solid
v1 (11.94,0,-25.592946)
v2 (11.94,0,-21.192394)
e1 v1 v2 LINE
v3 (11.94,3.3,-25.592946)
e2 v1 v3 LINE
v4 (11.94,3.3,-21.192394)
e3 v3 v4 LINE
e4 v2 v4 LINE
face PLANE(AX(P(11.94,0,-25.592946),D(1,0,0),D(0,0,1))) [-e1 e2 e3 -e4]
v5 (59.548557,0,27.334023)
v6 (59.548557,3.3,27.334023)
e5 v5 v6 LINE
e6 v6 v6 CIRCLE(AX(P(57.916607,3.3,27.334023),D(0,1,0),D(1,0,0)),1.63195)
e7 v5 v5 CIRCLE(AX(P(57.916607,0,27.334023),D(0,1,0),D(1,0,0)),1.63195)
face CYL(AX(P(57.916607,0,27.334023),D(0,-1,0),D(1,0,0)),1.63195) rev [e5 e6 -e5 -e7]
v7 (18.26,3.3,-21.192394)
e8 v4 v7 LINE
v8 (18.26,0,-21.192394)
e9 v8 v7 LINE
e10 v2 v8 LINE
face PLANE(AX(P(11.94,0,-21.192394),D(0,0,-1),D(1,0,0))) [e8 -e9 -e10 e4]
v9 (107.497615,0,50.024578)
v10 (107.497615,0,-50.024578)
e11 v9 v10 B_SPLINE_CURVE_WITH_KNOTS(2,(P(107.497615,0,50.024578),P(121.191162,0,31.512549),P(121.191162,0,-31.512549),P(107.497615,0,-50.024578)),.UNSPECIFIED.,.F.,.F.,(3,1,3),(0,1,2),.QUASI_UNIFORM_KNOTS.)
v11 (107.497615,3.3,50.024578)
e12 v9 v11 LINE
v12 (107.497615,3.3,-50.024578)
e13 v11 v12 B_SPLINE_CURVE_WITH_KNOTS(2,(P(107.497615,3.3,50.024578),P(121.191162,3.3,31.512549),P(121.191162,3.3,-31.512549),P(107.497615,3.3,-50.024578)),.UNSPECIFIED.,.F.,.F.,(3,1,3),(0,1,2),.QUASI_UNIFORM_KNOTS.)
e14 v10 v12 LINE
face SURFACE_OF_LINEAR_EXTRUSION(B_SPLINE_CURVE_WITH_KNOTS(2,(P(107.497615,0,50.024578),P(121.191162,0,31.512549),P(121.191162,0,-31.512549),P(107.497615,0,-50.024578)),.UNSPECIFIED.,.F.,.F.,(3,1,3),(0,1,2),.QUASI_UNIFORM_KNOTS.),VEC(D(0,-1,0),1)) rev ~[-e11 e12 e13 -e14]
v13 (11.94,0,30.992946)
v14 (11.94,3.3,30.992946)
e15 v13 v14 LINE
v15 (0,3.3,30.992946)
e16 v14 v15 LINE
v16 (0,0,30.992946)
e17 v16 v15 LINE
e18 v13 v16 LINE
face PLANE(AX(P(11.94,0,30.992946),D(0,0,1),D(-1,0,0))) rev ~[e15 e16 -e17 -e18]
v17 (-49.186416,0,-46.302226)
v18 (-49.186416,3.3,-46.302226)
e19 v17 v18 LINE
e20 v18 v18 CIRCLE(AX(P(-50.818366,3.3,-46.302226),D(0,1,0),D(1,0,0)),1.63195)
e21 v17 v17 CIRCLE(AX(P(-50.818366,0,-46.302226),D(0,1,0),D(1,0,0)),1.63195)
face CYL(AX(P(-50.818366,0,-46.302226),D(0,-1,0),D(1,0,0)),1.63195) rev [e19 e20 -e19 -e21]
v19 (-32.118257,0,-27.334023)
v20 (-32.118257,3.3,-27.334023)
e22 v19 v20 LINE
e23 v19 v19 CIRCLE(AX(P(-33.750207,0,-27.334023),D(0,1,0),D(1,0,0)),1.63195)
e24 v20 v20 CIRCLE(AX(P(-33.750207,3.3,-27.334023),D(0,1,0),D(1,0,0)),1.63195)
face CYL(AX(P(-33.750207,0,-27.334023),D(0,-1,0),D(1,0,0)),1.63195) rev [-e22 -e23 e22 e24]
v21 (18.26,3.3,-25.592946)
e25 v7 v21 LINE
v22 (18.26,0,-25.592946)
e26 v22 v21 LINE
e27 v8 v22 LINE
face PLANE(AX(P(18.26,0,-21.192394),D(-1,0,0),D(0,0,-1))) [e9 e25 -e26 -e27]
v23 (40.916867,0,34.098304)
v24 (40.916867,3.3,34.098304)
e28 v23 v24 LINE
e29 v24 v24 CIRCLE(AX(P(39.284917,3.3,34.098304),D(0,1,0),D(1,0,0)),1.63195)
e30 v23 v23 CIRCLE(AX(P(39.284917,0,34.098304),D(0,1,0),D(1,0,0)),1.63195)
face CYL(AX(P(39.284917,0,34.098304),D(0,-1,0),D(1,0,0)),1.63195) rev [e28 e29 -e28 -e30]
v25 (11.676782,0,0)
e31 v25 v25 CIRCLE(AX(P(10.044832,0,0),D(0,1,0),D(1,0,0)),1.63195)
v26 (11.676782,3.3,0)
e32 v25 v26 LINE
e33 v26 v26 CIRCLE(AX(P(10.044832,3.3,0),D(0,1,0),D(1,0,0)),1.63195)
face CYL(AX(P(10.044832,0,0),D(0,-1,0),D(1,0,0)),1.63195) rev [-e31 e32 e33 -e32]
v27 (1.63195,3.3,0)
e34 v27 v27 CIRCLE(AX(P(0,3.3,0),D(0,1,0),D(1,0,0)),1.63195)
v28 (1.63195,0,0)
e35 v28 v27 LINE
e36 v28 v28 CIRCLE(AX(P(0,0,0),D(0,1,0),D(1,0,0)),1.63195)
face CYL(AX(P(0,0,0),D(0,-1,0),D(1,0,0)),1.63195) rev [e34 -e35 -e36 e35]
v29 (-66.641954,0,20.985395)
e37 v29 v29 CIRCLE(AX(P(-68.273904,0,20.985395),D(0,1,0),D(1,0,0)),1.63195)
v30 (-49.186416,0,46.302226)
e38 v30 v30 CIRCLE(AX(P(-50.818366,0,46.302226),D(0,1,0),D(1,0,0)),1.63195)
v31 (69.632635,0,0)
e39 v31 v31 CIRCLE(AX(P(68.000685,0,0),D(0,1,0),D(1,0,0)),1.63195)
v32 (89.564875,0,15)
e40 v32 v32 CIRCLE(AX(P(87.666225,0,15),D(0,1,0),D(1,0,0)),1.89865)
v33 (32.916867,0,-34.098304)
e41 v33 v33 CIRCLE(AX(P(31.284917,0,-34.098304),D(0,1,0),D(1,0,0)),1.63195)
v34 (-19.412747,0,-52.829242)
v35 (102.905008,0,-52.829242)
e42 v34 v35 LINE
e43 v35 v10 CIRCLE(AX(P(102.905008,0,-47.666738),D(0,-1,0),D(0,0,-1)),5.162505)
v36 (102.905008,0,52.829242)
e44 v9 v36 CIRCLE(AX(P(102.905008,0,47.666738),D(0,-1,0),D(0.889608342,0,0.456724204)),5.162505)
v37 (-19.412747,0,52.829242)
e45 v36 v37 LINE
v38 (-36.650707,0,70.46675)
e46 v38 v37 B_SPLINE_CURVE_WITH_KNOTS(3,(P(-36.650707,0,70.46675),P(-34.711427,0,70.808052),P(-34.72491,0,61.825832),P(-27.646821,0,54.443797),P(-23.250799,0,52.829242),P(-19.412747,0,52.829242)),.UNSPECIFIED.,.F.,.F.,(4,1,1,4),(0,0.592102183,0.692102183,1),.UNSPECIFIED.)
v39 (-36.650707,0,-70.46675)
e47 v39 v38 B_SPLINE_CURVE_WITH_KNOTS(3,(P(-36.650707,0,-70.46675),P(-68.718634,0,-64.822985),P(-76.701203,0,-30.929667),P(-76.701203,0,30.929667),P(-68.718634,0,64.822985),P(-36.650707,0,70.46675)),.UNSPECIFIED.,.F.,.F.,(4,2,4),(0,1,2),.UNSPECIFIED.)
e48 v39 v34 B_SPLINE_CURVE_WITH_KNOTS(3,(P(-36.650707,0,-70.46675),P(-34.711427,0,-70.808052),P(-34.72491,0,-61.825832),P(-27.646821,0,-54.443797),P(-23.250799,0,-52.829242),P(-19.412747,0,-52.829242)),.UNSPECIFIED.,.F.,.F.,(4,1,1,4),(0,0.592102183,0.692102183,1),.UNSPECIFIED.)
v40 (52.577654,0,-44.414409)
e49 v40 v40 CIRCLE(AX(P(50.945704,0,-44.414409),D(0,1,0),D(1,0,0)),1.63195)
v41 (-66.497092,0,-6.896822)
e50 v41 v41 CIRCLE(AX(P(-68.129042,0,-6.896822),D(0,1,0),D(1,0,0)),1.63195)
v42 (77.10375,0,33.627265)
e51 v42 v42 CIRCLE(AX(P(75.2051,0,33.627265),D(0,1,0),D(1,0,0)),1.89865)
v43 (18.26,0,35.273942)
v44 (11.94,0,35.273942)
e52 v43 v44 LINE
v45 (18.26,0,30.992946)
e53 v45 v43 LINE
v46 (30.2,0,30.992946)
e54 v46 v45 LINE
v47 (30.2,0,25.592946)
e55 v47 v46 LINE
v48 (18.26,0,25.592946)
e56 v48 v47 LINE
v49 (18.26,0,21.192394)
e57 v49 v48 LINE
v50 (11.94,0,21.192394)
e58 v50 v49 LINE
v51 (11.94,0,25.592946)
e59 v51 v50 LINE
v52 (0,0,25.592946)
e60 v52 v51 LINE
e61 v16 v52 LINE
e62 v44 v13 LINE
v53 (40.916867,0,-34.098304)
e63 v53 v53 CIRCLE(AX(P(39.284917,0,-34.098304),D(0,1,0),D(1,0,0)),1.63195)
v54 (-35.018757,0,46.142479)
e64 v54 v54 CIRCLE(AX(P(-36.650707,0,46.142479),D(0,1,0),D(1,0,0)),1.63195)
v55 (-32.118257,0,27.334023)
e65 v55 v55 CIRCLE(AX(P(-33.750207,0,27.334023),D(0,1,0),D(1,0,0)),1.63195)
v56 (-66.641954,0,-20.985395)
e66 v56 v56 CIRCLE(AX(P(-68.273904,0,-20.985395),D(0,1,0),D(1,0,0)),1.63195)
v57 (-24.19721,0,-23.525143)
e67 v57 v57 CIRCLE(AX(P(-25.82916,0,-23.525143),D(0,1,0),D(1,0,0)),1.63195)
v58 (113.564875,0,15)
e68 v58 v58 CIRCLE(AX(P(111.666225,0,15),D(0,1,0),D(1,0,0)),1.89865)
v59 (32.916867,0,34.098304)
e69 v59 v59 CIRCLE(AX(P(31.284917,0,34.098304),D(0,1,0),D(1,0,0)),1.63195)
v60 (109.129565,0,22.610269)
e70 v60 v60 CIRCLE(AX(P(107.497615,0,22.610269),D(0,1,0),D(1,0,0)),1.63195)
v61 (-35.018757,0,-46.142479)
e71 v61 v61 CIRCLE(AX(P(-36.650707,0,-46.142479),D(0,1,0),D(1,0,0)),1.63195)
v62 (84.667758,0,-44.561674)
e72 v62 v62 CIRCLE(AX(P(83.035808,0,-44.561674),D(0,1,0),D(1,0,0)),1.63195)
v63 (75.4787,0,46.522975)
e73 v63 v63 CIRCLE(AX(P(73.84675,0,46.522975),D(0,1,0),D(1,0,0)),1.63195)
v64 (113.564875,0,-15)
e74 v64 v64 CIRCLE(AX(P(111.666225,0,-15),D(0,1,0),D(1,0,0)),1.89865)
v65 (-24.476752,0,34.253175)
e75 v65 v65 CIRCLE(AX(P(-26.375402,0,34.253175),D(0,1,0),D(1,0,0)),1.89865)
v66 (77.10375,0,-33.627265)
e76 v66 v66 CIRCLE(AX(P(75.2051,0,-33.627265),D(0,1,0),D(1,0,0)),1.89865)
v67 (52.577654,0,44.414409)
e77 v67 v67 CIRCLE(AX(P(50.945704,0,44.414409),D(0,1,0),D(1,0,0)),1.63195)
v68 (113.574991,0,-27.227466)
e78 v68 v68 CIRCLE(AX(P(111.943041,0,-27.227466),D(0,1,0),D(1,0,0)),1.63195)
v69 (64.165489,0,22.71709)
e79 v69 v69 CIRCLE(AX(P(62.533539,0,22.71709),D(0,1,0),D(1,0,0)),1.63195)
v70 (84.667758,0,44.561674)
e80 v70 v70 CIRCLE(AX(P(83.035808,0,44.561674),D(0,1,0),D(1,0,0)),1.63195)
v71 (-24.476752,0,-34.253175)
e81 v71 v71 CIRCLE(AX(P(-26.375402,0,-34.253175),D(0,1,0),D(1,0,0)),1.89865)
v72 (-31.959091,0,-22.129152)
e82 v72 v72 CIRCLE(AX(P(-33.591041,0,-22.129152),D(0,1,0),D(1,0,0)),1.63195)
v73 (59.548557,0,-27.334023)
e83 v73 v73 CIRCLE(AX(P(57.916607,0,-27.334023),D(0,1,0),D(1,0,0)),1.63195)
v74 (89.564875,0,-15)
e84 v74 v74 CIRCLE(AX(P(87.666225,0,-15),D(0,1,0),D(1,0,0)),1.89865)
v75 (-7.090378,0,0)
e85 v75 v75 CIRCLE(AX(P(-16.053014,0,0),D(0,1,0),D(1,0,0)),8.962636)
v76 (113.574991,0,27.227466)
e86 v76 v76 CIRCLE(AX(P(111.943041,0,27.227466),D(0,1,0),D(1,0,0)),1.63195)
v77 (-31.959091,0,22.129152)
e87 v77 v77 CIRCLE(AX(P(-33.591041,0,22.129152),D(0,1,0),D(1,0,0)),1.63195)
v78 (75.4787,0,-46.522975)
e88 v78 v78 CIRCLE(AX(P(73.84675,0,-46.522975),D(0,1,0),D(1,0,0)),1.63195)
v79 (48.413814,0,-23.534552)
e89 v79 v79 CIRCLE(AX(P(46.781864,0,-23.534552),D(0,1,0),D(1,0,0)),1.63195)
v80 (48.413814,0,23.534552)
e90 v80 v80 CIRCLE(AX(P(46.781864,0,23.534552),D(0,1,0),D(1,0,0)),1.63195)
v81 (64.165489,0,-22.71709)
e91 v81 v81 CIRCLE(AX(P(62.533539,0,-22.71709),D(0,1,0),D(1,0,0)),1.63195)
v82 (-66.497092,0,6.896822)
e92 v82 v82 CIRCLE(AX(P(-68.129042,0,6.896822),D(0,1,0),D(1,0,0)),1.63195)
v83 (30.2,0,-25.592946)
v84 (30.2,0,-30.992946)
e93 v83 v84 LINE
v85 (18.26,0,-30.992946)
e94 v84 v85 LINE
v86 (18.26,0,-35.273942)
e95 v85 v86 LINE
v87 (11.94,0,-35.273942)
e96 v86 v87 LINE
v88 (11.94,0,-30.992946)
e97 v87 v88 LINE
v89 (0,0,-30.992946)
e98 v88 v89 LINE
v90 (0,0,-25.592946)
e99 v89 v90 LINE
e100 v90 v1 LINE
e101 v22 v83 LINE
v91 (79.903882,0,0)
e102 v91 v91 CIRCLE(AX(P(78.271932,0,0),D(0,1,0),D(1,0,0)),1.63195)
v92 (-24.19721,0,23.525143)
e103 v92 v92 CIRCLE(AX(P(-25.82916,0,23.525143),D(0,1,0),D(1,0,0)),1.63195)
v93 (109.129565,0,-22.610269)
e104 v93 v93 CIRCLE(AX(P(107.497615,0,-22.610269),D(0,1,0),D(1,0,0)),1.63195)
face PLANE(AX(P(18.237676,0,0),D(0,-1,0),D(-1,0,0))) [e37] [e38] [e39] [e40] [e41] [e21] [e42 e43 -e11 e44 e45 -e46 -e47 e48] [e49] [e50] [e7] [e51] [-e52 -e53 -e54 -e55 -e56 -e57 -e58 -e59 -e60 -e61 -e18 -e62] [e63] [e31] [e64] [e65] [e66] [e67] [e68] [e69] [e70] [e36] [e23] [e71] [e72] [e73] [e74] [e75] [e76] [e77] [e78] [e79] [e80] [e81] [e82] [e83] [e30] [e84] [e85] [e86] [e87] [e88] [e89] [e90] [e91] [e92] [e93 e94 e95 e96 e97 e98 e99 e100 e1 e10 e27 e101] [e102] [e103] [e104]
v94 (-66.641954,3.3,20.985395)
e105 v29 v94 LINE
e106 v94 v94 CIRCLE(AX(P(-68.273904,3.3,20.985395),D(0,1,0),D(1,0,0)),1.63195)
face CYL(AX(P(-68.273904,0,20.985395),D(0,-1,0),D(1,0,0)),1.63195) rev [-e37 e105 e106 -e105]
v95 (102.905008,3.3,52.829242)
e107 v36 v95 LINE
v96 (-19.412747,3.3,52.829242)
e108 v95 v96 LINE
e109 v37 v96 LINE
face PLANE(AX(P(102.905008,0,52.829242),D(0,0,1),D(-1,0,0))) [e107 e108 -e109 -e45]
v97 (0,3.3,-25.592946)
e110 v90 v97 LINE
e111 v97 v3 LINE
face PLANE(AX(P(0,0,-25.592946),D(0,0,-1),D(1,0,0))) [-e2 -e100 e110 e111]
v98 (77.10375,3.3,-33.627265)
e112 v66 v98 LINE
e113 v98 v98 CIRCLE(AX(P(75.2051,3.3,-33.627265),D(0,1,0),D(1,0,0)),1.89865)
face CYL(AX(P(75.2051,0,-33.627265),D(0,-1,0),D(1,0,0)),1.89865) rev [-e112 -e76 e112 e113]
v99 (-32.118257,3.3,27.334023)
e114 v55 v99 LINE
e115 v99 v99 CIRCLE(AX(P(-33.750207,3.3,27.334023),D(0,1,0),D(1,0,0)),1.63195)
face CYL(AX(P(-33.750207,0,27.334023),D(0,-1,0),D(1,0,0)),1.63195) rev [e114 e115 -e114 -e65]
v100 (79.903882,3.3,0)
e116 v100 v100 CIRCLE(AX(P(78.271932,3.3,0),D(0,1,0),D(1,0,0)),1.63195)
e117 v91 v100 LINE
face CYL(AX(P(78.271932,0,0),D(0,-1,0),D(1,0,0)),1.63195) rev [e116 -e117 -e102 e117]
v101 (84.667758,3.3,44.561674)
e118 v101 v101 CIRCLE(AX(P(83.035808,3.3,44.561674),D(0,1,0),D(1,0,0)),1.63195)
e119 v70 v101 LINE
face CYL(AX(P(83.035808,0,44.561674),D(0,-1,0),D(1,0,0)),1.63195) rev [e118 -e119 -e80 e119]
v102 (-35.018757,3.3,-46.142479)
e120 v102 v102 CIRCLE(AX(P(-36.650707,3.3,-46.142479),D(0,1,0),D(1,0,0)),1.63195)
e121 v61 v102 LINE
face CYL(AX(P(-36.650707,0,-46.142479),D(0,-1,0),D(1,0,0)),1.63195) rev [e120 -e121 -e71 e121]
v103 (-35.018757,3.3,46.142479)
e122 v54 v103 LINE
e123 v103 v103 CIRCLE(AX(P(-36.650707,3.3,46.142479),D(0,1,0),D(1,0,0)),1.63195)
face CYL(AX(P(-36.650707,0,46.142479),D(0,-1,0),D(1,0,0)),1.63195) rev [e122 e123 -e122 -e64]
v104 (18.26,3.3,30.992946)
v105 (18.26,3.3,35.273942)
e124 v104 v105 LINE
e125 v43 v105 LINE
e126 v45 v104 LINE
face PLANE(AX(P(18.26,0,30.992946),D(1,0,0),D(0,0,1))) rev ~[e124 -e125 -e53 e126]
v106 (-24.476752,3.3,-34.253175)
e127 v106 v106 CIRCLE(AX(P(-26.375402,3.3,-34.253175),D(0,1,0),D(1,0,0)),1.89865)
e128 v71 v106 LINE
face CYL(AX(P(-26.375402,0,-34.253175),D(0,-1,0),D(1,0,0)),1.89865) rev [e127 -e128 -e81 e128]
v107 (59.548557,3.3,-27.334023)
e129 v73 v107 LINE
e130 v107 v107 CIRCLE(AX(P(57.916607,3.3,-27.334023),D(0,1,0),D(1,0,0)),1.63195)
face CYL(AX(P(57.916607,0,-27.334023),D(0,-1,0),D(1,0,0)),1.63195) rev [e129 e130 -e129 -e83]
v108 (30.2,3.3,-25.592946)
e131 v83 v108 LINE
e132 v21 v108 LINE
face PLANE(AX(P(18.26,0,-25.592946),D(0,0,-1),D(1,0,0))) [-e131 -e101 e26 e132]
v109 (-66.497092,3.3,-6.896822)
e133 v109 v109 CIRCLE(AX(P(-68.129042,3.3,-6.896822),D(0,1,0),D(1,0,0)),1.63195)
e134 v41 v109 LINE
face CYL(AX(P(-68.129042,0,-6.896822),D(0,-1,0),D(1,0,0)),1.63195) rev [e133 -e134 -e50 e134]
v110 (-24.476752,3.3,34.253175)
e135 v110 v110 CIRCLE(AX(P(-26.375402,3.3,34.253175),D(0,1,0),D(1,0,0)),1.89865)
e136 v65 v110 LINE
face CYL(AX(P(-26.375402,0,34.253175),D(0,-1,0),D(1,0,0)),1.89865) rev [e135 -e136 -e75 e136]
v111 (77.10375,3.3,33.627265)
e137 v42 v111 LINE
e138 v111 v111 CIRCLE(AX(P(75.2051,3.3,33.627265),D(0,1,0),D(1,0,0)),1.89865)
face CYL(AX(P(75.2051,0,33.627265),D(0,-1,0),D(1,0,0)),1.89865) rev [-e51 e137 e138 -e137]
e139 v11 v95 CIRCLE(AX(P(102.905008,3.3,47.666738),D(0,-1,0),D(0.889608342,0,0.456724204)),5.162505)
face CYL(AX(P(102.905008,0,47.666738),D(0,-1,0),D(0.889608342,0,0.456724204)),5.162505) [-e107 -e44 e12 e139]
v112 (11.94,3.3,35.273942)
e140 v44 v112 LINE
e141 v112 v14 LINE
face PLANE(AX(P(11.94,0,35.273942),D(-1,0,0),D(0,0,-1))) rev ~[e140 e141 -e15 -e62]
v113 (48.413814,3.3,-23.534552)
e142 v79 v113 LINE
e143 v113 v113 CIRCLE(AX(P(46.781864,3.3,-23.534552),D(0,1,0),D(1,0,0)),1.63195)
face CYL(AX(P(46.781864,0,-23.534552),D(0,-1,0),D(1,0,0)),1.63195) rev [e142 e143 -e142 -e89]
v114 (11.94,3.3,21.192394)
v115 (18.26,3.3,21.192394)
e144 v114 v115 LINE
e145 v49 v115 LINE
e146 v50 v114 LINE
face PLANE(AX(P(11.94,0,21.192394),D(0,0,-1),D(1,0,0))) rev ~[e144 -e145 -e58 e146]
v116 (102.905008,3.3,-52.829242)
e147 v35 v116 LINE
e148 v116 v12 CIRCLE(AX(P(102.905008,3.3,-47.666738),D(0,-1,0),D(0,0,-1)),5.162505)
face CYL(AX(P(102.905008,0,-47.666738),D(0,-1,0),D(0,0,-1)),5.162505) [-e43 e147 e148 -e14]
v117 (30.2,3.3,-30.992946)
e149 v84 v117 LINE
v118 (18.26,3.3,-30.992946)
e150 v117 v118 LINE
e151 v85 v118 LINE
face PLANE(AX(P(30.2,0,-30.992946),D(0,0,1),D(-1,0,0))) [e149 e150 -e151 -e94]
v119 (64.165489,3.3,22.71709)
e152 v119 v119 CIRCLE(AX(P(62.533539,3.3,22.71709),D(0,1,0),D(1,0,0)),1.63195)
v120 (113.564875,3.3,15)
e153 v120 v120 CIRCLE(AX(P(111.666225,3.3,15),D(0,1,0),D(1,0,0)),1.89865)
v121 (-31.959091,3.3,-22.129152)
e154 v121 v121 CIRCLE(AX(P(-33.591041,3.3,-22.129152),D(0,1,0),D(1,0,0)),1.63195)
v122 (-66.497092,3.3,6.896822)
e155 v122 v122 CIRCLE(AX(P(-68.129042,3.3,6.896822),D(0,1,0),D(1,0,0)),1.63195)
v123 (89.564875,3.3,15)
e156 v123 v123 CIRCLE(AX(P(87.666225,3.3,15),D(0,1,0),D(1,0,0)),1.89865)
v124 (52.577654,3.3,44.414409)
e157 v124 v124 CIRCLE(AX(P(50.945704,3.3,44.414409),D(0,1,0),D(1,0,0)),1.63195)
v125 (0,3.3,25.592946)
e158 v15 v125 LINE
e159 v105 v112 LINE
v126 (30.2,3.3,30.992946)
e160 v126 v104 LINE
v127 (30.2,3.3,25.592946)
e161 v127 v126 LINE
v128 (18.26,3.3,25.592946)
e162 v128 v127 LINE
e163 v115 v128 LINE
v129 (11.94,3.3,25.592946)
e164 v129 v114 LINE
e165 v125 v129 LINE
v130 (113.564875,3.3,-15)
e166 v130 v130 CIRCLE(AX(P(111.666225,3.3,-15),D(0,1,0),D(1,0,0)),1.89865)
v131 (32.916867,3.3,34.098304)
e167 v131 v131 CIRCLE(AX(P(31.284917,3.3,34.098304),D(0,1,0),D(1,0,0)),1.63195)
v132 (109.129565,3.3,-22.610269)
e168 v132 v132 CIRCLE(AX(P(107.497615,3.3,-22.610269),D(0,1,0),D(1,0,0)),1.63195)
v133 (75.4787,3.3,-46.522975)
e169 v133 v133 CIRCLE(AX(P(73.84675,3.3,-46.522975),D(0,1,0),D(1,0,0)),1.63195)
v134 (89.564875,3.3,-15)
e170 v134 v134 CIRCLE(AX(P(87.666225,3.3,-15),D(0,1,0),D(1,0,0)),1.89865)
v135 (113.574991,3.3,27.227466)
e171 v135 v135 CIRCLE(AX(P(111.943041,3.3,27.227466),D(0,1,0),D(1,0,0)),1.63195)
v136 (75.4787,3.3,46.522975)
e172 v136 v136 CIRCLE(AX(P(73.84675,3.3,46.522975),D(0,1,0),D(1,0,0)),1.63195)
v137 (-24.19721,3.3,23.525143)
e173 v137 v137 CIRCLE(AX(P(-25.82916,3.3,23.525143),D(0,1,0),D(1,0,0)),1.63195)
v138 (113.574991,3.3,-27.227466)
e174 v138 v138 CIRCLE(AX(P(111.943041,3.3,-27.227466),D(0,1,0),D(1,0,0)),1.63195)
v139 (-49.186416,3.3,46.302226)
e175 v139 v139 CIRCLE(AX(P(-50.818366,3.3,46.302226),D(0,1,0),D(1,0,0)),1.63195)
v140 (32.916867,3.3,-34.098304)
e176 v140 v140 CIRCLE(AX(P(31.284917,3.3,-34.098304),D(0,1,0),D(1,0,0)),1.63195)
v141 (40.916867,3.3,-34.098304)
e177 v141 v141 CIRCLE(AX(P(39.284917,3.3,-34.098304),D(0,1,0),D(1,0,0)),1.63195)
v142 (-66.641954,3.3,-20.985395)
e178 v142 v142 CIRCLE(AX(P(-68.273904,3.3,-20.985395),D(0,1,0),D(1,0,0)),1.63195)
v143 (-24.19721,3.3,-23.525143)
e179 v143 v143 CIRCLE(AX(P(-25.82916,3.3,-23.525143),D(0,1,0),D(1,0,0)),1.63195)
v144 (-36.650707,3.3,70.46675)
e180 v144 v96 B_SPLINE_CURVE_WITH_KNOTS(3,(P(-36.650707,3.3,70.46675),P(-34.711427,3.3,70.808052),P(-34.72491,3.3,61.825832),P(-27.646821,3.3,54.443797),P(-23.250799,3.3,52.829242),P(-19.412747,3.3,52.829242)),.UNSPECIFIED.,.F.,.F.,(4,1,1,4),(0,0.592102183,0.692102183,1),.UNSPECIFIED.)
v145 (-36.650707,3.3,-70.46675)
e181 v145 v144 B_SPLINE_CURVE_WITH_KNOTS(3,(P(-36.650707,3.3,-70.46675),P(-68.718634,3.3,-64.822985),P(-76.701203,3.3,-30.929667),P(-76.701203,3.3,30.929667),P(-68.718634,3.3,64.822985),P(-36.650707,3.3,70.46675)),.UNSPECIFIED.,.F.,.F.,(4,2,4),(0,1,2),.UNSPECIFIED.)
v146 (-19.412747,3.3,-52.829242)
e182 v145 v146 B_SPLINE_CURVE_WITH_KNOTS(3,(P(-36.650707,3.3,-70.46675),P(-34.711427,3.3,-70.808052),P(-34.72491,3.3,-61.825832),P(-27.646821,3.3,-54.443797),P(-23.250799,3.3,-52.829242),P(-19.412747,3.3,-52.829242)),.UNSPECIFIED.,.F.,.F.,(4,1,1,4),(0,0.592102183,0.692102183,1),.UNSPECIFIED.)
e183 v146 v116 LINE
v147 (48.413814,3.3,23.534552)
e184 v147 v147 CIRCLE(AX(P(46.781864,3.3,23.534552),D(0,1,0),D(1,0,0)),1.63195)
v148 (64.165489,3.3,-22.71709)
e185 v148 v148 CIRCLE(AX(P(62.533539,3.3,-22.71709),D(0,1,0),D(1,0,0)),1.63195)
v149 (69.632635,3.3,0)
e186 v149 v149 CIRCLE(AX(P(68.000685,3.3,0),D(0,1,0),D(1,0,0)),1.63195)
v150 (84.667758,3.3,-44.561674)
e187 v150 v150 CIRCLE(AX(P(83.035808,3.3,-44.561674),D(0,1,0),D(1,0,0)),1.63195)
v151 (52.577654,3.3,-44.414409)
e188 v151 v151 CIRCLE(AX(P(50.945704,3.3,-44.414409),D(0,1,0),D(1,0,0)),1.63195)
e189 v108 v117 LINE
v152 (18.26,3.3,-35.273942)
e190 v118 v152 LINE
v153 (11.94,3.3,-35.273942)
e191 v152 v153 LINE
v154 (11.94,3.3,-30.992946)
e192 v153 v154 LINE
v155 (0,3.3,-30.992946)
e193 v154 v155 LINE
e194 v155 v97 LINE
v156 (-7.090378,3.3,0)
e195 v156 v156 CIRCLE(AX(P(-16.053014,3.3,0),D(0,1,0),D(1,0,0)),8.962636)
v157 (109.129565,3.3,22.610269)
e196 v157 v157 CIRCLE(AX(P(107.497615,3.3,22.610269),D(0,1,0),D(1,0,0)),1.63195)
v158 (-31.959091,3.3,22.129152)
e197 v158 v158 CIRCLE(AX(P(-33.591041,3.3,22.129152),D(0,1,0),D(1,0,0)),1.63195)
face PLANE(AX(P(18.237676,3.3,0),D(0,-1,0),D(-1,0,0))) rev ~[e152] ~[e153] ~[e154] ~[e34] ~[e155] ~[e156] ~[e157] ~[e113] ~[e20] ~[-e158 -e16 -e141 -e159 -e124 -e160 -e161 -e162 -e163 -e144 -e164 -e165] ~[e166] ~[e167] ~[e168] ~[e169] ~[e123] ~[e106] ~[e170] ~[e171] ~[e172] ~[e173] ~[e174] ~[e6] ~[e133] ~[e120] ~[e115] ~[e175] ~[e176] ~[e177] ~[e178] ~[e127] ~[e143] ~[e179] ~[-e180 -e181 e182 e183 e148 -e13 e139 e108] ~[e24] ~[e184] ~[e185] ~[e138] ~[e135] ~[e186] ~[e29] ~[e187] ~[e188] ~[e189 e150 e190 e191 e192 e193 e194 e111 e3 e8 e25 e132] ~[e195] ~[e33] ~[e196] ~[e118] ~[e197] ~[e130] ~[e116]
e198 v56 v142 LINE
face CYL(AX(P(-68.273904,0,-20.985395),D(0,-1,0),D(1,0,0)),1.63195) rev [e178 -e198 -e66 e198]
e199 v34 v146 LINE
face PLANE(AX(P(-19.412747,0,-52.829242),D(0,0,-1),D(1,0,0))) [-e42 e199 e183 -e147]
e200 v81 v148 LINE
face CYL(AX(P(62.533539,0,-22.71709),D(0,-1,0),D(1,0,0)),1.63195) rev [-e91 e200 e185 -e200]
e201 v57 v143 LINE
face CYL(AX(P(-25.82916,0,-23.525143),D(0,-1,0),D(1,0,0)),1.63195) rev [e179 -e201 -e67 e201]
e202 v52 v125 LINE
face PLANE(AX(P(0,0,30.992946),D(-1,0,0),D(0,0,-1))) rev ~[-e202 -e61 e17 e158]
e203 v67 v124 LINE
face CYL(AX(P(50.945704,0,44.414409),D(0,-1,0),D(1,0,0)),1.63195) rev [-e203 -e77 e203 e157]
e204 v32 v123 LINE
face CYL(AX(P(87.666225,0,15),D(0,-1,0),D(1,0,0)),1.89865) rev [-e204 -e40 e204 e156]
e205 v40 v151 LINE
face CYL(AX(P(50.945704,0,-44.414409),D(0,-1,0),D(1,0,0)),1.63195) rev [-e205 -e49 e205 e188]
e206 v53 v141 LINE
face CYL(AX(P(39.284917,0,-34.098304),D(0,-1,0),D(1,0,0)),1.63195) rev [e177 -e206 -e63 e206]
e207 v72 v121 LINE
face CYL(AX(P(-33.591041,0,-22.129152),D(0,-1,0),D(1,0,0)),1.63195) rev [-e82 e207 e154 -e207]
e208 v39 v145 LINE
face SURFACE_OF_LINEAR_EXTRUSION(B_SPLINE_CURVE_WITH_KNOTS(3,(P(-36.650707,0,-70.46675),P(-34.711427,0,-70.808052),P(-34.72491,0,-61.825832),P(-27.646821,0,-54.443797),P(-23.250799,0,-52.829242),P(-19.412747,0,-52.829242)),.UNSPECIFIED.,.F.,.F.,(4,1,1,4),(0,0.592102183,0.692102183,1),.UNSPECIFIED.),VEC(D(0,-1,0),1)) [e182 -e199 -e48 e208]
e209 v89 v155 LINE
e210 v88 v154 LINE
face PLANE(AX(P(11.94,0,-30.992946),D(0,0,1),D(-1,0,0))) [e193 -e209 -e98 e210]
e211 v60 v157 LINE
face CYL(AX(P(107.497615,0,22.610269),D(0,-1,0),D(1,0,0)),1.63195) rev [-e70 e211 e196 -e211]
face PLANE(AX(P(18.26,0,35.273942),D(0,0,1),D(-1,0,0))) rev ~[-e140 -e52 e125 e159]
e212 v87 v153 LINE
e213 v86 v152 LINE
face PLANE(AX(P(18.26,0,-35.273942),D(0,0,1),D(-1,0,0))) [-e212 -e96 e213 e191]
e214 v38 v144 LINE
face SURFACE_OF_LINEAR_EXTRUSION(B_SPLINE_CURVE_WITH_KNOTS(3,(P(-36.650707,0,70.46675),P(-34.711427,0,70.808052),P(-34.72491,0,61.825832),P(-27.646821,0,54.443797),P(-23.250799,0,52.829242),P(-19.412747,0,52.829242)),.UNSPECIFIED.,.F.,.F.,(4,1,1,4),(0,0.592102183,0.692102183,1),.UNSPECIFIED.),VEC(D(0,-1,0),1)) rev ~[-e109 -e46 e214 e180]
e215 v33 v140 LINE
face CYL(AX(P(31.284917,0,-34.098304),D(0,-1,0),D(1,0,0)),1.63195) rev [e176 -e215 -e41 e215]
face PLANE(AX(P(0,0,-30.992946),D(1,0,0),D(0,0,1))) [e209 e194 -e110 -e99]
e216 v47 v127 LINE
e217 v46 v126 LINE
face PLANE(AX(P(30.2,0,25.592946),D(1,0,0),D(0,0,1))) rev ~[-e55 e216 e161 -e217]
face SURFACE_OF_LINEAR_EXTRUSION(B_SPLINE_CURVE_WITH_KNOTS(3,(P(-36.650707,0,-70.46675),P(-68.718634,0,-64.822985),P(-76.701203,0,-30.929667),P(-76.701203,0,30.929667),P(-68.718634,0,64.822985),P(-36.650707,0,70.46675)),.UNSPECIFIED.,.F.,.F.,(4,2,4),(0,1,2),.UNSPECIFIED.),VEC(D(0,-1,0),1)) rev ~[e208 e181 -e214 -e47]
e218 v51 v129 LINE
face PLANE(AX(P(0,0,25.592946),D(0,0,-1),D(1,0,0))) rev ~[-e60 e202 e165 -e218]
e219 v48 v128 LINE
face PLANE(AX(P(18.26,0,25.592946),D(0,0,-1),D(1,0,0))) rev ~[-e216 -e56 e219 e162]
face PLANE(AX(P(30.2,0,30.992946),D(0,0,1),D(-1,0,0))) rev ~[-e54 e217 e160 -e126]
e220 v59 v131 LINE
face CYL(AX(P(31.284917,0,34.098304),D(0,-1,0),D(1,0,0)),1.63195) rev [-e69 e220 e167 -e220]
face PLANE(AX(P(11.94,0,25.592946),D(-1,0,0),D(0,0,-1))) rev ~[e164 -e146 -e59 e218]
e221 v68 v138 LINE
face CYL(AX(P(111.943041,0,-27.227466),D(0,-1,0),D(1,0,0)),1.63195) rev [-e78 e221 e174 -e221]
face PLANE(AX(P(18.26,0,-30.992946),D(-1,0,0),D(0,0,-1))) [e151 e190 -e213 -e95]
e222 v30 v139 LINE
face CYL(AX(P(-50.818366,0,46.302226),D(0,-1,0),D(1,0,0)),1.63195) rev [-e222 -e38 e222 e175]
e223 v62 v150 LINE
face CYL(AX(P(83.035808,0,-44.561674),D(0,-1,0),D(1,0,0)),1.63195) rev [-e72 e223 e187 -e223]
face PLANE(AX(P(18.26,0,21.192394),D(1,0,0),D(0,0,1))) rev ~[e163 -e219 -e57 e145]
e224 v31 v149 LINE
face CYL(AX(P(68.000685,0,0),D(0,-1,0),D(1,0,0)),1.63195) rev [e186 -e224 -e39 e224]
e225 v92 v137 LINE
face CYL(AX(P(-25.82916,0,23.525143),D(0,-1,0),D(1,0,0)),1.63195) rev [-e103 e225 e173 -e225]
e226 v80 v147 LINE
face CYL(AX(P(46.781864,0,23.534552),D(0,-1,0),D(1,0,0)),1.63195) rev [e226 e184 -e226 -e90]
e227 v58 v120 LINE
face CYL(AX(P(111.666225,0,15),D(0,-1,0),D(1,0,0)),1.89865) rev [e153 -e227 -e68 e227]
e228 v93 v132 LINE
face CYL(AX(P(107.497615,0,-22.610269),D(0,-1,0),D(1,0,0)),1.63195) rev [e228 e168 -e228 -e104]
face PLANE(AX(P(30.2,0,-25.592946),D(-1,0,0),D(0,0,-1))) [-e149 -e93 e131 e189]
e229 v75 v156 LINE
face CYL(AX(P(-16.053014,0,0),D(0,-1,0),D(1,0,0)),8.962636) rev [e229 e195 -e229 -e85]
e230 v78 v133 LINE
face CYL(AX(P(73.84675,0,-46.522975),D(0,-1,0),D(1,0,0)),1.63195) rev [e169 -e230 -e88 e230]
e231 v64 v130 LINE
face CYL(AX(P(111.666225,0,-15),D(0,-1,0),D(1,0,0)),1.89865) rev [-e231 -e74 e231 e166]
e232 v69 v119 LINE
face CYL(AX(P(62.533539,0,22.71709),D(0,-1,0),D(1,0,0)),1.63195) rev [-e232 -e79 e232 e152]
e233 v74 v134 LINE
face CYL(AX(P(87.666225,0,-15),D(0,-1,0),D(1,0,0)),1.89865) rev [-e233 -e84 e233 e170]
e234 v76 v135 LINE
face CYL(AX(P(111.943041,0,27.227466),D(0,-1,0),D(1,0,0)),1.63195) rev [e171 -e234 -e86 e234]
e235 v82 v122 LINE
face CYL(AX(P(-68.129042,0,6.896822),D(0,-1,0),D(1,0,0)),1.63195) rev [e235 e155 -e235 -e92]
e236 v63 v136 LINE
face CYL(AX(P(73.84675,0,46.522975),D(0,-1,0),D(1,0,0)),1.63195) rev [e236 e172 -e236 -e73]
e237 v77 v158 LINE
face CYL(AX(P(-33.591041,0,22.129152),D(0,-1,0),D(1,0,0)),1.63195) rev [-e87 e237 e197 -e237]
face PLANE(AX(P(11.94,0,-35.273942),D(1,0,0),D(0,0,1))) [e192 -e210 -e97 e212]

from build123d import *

# Parameters (mm, degrees)
SKETCH3_R           = 1.63195
SKETCH3_R_2         = 1.89865
SKETCH3_R_3         = 8.962636394
BOSS_EXTRUDE1_DEPTH = 3.3


with BuildPart() as part:
    # Sketch3 → Boss-Extrude1 (new body)
    with BuildSketch(Plane(origin=(0, 0, 0), x_dir=(1, 0, 0), z_dir=(0, 1, 0))):
        with BuildLine():
            Line((-19.412747253, 52.829242203), (102.905008148, 52.829242203))
            ThreePointArc((102.905008148, 52.829242203), (105.595648402, 52.072632384), (107.497615337, 50.024578386))
            add(Edge.make_bspline(
                [(107.497615337, 50.024578386), (121.191162078, 31.512548829), (121.191162078, 0)],
                knots=[0, 0, 0, 1, 1, 1], degree=2))
            add(Edge.make_bspline(
                [(107.497615337, -50.024578386), (121.191162078, -31.512548829), (121.191162078, 0)],
                knots=[0, 0, 0, 1, 1, 1], degree=2))
            ThreePointArc((107.497615337, -50.024578386), (105.595648402, -52.072632384), (102.905008148, -52.829242203))
            Line((102.905008148, -52.829242203), (-19.412747253, -52.829242203))
            add(Edge.make_bspline(
                [(-36.650707215, -70.466749861), (-34.711426836, -70.808051725), (-34.724909533, -61.825831762), (-27.646820994, -54.443797364), (-23.250799114, -52.829242203), (-19.412747253, -52.829242203)],
                knots=[0, 0, 0, 0, 0.592102183, 0.692102183, 1, 1, 1, 1], degree=3))
            add(Edge.make_bspline(
                [(-76.701202739, 0), (-76.701202739, -30.929666745), (-68.718634037, -64.822984621), (-36.650707215, -70.466749861)],
                knots=[0, 0, 0, 0, 1, 1, 1, 1], degree=3))
            add(Edge.make_bspline(
                [(-76.701202739, 0), (-76.701202739, 30.929666745), (-68.718634037, 64.822984621), (-36.650707215, 70.466749861)],
                knots=[0, 0, 0, 0, 1, 1, 1, 1], degree=3))
            add(Edge.make_bspline(
                [(-36.650707215, 70.466749861), (-34.711426836, 70.808051725), (-34.724909533, 61.825831762), (-27.646820994, 54.443797364), (-23.250799114, 52.829242203), (-19.412747253, 52.829242203)],
                knots=[0, 0, 0, 0, 0.592102183, 0.692102183, 1, 1, 1, 1], degree=3))
        make_face()
        with Locations((83.035807722, 44.56167379)):
            Circle(SKETCH3_R, mode=Mode.SUBTRACT)
        with Locations((83.035807722, -44.56167379)):
            Circle(SKETCH3_R, mode=Mode.SUBTRACT)
        with Locations((111.943040645, 27.227466133)):
            Circle(SKETCH3_R, mode=Mode.SUBTRACT)
        with Locations((111.943040645, -27.227466133)):
            Circle(SKETCH3_R, mode=Mode.SUBTRACT)
        with Locations((107.497615337, 22.610268935)):
            Circle(SKETCH3_R, mode=Mode.SUBTRACT)
        with Locations((107.497615337, -22.610268935)):
            Circle(SKETCH3_R, mode=Mode.SUBTRACT)
        with Locations((111.666224747, 15)):
            Circle(SKETCH3_R_2, mode=Mode.SUBTRACT)
        with Locations((111.666224747, -15)):
            Circle(SKETCH3_R_2, mode=Mode.SUBTRACT)
        with Locations((87.666224747, 15)):
            Circle(SKETCH3_R_2, mode=Mode.SUBTRACT)
        with Locations((87.666224747, -15)):
            Circle(SKETCH3_R_2, mode=Mode.SUBTRACT)
        with Locations((75.205099745, 33.627264799)):
            Circle(SKETCH3_R_2, mode=Mode.SUBTRACT)
        with Locations((75.205099745, -33.627264799)):
            Circle(SKETCH3_R_2, mode=Mode.SUBTRACT)
        with Locations((73.846750426, 46.522974557)):
            Circle(SKETCH3_R, mode=Mode.SUBTRACT)
        with Locations((73.846750426, -46.522974557)):
            Circle(SKETCH3_R, mode=Mode.SUBTRACT)
        with Locations((62.53353943, 22.717090363)):
            Circle(SKETCH3_R, mode=Mode.SUBTRACT)
        with Locations((62.53353943, -22.717090363)):
            Circle(SKETCH3_R, mode=Mode.SUBTRACT)
        with Locations((57.916606771, 27.334023022)):
            Circle(SKETCH3_R, mode=Mode.SUBTRACT)
        with Locations((57.916606771, -27.334023022)):
            Circle(SKETCH3_R, mode=Mode.SUBTRACT)
        with Locations((50.945704163, 44.414408656)):
            Circle(SKETCH3_R, mode=Mode.SUBTRACT)
        with Locations((50.945704163, -44.414408656)):
            Circle(SKETCH3_R, mode=Mode.SUBTRACT)
        with Locations((46.781864412, 23.53455238)):
            Circle(SKETCH3_R, mode=Mode.SUBTRACT)
        with Locations((46.781864412, -23.53455238)):
            Circle(SKETCH3_R, mode=Mode.SUBTRACT)
        with Locations((39.284916667, 34.098304181)):
            Circle(SKETCH3_R, mode=Mode.SUBTRACT)
        with Locations((39.284916667, -34.098304181)):
            Circle(SKETCH3_R, mode=Mode.SUBTRACT)
        with Locations((31.284916667, 34.098304181)):
            Circle(SKETCH3_R, mode=Mode.SUBTRACT)
        with Locations((31.284916667, -34.098304181)):
            Circle(SKETCH3_R, mode=Mode.SUBTRACT)
        with Locations((-26.375402413, 34.25317527)):
            Circle(SKETCH3_R_2, mode=Mode.SUBTRACT)
        with Locations((-26.375402413, -34.25317527)):
            Circle(SKETCH3_R_2, mode=Mode.SUBTRACT)
        with Locations((-25.829159842, 23.525142795)):
            Circle(SKETCH3_R, mode=Mode.SUBTRACT)
        with Locations((-25.829159842, -23.525142795)):
            Circle(SKETCH3_R, mode=Mode.SUBTRACT)
        with Locations((-33.59104133, 22.129151777)):
            Circle(SKETCH3_R, mode=Mode.SUBTRACT)
        with Locations((-33.59104133, -22.129151777)):
            Circle(SKETCH3_R, mode=Mode.SUBTRACT)
        with Locations((-36.650707215, 46.142478568)):
            Circle(SKETCH3_R, mode=Mode.SUBTRACT)
        with Locations((-36.650707215, -46.142478568)):
            Circle(SKETCH3_R, mode=Mode.SUBTRACT)
        with Locations((-50.818365766, 46.30222602)):
            Circle(SKETCH3_R, mode=Mode.SUBTRACT)
        with Locations((-50.818365766, -46.30222602)):
            Circle(SKETCH3_R, mode=Mode.SUBTRACT)
        with Locations((-68.273903527, 20.985394647)):
            Circle(SKETCH3_R, mode=Mode.SUBTRACT)
        with Locations((-68.273903527, -20.985394647)):
            Circle(SKETCH3_R, mode=Mode.SUBTRACT)
        with Locations((-68.129041774, 6.896821773)):
            Circle(SKETCH3_R, mode=Mode.SUBTRACT)
        with Locations((-68.129041774, -6.896821773)):
            Circle(SKETCH3_R, mode=Mode.SUBTRACT)
        with Locations((-16.053014444, 0)):
            Circle(SKETCH3_R_3, mode=Mode.SUBTRACT)
        with Locations((10.044832328, 0)):
            Circle(SKETCH3_R, mode=Mode.SUBTRACT)
        with Locations((68.000684971, 0)):
            Circle(SKETCH3_R, mode=Mode.SUBTRACT)
        with Locations((78.271931801, 0)):
            Circle(SKETCH3_R, mode=Mode.SUBTRACT)
        with Locations((-33.750207153, 27.334023022)):
            Circle(SKETCH3_R, mode=Mode.SUBTRACT)
        with Locations((-33.750207153, -27.334023022)):
            Circle(SKETCH3_R, mode=Mode.SUBTRACT)
        Circle(SKETCH3_R, mode=Mode.SUBTRACT)
        Polygon((11.94, 30.992945559), (0, 30.992945559), (0, 25.592945559), (11.94, 25.592945559), (11.94, 21.192394067), (18.26, 21.192394067), (18.26, 25.592945559), (30.2, 25.592945559), (30.2, 30.992945559), (18.26, 30.992945559), (18.26, 35.273941836), (11.94, 35.273941836), align=None, mode=Mode.SUBTRACT)
        Polygon((11.94, -30.992945559), (0, -30.992945559), (0, -25.592945559), (11.94, -25.592945559), (11.94, -21.192394067), (18.26, -21.192394067), (18.26, -25.592945559), (30.2, -25.592945559), (30.2, -30.992945559), (18.26, -30.992945559), (18.26, -35.273941836), (11.94, -35.273941836), align=None, mode=Mode.SUBTRACT)
    extrude(amount=BOSS_EXTRUDE1_DEPTH)


solid = part.part
